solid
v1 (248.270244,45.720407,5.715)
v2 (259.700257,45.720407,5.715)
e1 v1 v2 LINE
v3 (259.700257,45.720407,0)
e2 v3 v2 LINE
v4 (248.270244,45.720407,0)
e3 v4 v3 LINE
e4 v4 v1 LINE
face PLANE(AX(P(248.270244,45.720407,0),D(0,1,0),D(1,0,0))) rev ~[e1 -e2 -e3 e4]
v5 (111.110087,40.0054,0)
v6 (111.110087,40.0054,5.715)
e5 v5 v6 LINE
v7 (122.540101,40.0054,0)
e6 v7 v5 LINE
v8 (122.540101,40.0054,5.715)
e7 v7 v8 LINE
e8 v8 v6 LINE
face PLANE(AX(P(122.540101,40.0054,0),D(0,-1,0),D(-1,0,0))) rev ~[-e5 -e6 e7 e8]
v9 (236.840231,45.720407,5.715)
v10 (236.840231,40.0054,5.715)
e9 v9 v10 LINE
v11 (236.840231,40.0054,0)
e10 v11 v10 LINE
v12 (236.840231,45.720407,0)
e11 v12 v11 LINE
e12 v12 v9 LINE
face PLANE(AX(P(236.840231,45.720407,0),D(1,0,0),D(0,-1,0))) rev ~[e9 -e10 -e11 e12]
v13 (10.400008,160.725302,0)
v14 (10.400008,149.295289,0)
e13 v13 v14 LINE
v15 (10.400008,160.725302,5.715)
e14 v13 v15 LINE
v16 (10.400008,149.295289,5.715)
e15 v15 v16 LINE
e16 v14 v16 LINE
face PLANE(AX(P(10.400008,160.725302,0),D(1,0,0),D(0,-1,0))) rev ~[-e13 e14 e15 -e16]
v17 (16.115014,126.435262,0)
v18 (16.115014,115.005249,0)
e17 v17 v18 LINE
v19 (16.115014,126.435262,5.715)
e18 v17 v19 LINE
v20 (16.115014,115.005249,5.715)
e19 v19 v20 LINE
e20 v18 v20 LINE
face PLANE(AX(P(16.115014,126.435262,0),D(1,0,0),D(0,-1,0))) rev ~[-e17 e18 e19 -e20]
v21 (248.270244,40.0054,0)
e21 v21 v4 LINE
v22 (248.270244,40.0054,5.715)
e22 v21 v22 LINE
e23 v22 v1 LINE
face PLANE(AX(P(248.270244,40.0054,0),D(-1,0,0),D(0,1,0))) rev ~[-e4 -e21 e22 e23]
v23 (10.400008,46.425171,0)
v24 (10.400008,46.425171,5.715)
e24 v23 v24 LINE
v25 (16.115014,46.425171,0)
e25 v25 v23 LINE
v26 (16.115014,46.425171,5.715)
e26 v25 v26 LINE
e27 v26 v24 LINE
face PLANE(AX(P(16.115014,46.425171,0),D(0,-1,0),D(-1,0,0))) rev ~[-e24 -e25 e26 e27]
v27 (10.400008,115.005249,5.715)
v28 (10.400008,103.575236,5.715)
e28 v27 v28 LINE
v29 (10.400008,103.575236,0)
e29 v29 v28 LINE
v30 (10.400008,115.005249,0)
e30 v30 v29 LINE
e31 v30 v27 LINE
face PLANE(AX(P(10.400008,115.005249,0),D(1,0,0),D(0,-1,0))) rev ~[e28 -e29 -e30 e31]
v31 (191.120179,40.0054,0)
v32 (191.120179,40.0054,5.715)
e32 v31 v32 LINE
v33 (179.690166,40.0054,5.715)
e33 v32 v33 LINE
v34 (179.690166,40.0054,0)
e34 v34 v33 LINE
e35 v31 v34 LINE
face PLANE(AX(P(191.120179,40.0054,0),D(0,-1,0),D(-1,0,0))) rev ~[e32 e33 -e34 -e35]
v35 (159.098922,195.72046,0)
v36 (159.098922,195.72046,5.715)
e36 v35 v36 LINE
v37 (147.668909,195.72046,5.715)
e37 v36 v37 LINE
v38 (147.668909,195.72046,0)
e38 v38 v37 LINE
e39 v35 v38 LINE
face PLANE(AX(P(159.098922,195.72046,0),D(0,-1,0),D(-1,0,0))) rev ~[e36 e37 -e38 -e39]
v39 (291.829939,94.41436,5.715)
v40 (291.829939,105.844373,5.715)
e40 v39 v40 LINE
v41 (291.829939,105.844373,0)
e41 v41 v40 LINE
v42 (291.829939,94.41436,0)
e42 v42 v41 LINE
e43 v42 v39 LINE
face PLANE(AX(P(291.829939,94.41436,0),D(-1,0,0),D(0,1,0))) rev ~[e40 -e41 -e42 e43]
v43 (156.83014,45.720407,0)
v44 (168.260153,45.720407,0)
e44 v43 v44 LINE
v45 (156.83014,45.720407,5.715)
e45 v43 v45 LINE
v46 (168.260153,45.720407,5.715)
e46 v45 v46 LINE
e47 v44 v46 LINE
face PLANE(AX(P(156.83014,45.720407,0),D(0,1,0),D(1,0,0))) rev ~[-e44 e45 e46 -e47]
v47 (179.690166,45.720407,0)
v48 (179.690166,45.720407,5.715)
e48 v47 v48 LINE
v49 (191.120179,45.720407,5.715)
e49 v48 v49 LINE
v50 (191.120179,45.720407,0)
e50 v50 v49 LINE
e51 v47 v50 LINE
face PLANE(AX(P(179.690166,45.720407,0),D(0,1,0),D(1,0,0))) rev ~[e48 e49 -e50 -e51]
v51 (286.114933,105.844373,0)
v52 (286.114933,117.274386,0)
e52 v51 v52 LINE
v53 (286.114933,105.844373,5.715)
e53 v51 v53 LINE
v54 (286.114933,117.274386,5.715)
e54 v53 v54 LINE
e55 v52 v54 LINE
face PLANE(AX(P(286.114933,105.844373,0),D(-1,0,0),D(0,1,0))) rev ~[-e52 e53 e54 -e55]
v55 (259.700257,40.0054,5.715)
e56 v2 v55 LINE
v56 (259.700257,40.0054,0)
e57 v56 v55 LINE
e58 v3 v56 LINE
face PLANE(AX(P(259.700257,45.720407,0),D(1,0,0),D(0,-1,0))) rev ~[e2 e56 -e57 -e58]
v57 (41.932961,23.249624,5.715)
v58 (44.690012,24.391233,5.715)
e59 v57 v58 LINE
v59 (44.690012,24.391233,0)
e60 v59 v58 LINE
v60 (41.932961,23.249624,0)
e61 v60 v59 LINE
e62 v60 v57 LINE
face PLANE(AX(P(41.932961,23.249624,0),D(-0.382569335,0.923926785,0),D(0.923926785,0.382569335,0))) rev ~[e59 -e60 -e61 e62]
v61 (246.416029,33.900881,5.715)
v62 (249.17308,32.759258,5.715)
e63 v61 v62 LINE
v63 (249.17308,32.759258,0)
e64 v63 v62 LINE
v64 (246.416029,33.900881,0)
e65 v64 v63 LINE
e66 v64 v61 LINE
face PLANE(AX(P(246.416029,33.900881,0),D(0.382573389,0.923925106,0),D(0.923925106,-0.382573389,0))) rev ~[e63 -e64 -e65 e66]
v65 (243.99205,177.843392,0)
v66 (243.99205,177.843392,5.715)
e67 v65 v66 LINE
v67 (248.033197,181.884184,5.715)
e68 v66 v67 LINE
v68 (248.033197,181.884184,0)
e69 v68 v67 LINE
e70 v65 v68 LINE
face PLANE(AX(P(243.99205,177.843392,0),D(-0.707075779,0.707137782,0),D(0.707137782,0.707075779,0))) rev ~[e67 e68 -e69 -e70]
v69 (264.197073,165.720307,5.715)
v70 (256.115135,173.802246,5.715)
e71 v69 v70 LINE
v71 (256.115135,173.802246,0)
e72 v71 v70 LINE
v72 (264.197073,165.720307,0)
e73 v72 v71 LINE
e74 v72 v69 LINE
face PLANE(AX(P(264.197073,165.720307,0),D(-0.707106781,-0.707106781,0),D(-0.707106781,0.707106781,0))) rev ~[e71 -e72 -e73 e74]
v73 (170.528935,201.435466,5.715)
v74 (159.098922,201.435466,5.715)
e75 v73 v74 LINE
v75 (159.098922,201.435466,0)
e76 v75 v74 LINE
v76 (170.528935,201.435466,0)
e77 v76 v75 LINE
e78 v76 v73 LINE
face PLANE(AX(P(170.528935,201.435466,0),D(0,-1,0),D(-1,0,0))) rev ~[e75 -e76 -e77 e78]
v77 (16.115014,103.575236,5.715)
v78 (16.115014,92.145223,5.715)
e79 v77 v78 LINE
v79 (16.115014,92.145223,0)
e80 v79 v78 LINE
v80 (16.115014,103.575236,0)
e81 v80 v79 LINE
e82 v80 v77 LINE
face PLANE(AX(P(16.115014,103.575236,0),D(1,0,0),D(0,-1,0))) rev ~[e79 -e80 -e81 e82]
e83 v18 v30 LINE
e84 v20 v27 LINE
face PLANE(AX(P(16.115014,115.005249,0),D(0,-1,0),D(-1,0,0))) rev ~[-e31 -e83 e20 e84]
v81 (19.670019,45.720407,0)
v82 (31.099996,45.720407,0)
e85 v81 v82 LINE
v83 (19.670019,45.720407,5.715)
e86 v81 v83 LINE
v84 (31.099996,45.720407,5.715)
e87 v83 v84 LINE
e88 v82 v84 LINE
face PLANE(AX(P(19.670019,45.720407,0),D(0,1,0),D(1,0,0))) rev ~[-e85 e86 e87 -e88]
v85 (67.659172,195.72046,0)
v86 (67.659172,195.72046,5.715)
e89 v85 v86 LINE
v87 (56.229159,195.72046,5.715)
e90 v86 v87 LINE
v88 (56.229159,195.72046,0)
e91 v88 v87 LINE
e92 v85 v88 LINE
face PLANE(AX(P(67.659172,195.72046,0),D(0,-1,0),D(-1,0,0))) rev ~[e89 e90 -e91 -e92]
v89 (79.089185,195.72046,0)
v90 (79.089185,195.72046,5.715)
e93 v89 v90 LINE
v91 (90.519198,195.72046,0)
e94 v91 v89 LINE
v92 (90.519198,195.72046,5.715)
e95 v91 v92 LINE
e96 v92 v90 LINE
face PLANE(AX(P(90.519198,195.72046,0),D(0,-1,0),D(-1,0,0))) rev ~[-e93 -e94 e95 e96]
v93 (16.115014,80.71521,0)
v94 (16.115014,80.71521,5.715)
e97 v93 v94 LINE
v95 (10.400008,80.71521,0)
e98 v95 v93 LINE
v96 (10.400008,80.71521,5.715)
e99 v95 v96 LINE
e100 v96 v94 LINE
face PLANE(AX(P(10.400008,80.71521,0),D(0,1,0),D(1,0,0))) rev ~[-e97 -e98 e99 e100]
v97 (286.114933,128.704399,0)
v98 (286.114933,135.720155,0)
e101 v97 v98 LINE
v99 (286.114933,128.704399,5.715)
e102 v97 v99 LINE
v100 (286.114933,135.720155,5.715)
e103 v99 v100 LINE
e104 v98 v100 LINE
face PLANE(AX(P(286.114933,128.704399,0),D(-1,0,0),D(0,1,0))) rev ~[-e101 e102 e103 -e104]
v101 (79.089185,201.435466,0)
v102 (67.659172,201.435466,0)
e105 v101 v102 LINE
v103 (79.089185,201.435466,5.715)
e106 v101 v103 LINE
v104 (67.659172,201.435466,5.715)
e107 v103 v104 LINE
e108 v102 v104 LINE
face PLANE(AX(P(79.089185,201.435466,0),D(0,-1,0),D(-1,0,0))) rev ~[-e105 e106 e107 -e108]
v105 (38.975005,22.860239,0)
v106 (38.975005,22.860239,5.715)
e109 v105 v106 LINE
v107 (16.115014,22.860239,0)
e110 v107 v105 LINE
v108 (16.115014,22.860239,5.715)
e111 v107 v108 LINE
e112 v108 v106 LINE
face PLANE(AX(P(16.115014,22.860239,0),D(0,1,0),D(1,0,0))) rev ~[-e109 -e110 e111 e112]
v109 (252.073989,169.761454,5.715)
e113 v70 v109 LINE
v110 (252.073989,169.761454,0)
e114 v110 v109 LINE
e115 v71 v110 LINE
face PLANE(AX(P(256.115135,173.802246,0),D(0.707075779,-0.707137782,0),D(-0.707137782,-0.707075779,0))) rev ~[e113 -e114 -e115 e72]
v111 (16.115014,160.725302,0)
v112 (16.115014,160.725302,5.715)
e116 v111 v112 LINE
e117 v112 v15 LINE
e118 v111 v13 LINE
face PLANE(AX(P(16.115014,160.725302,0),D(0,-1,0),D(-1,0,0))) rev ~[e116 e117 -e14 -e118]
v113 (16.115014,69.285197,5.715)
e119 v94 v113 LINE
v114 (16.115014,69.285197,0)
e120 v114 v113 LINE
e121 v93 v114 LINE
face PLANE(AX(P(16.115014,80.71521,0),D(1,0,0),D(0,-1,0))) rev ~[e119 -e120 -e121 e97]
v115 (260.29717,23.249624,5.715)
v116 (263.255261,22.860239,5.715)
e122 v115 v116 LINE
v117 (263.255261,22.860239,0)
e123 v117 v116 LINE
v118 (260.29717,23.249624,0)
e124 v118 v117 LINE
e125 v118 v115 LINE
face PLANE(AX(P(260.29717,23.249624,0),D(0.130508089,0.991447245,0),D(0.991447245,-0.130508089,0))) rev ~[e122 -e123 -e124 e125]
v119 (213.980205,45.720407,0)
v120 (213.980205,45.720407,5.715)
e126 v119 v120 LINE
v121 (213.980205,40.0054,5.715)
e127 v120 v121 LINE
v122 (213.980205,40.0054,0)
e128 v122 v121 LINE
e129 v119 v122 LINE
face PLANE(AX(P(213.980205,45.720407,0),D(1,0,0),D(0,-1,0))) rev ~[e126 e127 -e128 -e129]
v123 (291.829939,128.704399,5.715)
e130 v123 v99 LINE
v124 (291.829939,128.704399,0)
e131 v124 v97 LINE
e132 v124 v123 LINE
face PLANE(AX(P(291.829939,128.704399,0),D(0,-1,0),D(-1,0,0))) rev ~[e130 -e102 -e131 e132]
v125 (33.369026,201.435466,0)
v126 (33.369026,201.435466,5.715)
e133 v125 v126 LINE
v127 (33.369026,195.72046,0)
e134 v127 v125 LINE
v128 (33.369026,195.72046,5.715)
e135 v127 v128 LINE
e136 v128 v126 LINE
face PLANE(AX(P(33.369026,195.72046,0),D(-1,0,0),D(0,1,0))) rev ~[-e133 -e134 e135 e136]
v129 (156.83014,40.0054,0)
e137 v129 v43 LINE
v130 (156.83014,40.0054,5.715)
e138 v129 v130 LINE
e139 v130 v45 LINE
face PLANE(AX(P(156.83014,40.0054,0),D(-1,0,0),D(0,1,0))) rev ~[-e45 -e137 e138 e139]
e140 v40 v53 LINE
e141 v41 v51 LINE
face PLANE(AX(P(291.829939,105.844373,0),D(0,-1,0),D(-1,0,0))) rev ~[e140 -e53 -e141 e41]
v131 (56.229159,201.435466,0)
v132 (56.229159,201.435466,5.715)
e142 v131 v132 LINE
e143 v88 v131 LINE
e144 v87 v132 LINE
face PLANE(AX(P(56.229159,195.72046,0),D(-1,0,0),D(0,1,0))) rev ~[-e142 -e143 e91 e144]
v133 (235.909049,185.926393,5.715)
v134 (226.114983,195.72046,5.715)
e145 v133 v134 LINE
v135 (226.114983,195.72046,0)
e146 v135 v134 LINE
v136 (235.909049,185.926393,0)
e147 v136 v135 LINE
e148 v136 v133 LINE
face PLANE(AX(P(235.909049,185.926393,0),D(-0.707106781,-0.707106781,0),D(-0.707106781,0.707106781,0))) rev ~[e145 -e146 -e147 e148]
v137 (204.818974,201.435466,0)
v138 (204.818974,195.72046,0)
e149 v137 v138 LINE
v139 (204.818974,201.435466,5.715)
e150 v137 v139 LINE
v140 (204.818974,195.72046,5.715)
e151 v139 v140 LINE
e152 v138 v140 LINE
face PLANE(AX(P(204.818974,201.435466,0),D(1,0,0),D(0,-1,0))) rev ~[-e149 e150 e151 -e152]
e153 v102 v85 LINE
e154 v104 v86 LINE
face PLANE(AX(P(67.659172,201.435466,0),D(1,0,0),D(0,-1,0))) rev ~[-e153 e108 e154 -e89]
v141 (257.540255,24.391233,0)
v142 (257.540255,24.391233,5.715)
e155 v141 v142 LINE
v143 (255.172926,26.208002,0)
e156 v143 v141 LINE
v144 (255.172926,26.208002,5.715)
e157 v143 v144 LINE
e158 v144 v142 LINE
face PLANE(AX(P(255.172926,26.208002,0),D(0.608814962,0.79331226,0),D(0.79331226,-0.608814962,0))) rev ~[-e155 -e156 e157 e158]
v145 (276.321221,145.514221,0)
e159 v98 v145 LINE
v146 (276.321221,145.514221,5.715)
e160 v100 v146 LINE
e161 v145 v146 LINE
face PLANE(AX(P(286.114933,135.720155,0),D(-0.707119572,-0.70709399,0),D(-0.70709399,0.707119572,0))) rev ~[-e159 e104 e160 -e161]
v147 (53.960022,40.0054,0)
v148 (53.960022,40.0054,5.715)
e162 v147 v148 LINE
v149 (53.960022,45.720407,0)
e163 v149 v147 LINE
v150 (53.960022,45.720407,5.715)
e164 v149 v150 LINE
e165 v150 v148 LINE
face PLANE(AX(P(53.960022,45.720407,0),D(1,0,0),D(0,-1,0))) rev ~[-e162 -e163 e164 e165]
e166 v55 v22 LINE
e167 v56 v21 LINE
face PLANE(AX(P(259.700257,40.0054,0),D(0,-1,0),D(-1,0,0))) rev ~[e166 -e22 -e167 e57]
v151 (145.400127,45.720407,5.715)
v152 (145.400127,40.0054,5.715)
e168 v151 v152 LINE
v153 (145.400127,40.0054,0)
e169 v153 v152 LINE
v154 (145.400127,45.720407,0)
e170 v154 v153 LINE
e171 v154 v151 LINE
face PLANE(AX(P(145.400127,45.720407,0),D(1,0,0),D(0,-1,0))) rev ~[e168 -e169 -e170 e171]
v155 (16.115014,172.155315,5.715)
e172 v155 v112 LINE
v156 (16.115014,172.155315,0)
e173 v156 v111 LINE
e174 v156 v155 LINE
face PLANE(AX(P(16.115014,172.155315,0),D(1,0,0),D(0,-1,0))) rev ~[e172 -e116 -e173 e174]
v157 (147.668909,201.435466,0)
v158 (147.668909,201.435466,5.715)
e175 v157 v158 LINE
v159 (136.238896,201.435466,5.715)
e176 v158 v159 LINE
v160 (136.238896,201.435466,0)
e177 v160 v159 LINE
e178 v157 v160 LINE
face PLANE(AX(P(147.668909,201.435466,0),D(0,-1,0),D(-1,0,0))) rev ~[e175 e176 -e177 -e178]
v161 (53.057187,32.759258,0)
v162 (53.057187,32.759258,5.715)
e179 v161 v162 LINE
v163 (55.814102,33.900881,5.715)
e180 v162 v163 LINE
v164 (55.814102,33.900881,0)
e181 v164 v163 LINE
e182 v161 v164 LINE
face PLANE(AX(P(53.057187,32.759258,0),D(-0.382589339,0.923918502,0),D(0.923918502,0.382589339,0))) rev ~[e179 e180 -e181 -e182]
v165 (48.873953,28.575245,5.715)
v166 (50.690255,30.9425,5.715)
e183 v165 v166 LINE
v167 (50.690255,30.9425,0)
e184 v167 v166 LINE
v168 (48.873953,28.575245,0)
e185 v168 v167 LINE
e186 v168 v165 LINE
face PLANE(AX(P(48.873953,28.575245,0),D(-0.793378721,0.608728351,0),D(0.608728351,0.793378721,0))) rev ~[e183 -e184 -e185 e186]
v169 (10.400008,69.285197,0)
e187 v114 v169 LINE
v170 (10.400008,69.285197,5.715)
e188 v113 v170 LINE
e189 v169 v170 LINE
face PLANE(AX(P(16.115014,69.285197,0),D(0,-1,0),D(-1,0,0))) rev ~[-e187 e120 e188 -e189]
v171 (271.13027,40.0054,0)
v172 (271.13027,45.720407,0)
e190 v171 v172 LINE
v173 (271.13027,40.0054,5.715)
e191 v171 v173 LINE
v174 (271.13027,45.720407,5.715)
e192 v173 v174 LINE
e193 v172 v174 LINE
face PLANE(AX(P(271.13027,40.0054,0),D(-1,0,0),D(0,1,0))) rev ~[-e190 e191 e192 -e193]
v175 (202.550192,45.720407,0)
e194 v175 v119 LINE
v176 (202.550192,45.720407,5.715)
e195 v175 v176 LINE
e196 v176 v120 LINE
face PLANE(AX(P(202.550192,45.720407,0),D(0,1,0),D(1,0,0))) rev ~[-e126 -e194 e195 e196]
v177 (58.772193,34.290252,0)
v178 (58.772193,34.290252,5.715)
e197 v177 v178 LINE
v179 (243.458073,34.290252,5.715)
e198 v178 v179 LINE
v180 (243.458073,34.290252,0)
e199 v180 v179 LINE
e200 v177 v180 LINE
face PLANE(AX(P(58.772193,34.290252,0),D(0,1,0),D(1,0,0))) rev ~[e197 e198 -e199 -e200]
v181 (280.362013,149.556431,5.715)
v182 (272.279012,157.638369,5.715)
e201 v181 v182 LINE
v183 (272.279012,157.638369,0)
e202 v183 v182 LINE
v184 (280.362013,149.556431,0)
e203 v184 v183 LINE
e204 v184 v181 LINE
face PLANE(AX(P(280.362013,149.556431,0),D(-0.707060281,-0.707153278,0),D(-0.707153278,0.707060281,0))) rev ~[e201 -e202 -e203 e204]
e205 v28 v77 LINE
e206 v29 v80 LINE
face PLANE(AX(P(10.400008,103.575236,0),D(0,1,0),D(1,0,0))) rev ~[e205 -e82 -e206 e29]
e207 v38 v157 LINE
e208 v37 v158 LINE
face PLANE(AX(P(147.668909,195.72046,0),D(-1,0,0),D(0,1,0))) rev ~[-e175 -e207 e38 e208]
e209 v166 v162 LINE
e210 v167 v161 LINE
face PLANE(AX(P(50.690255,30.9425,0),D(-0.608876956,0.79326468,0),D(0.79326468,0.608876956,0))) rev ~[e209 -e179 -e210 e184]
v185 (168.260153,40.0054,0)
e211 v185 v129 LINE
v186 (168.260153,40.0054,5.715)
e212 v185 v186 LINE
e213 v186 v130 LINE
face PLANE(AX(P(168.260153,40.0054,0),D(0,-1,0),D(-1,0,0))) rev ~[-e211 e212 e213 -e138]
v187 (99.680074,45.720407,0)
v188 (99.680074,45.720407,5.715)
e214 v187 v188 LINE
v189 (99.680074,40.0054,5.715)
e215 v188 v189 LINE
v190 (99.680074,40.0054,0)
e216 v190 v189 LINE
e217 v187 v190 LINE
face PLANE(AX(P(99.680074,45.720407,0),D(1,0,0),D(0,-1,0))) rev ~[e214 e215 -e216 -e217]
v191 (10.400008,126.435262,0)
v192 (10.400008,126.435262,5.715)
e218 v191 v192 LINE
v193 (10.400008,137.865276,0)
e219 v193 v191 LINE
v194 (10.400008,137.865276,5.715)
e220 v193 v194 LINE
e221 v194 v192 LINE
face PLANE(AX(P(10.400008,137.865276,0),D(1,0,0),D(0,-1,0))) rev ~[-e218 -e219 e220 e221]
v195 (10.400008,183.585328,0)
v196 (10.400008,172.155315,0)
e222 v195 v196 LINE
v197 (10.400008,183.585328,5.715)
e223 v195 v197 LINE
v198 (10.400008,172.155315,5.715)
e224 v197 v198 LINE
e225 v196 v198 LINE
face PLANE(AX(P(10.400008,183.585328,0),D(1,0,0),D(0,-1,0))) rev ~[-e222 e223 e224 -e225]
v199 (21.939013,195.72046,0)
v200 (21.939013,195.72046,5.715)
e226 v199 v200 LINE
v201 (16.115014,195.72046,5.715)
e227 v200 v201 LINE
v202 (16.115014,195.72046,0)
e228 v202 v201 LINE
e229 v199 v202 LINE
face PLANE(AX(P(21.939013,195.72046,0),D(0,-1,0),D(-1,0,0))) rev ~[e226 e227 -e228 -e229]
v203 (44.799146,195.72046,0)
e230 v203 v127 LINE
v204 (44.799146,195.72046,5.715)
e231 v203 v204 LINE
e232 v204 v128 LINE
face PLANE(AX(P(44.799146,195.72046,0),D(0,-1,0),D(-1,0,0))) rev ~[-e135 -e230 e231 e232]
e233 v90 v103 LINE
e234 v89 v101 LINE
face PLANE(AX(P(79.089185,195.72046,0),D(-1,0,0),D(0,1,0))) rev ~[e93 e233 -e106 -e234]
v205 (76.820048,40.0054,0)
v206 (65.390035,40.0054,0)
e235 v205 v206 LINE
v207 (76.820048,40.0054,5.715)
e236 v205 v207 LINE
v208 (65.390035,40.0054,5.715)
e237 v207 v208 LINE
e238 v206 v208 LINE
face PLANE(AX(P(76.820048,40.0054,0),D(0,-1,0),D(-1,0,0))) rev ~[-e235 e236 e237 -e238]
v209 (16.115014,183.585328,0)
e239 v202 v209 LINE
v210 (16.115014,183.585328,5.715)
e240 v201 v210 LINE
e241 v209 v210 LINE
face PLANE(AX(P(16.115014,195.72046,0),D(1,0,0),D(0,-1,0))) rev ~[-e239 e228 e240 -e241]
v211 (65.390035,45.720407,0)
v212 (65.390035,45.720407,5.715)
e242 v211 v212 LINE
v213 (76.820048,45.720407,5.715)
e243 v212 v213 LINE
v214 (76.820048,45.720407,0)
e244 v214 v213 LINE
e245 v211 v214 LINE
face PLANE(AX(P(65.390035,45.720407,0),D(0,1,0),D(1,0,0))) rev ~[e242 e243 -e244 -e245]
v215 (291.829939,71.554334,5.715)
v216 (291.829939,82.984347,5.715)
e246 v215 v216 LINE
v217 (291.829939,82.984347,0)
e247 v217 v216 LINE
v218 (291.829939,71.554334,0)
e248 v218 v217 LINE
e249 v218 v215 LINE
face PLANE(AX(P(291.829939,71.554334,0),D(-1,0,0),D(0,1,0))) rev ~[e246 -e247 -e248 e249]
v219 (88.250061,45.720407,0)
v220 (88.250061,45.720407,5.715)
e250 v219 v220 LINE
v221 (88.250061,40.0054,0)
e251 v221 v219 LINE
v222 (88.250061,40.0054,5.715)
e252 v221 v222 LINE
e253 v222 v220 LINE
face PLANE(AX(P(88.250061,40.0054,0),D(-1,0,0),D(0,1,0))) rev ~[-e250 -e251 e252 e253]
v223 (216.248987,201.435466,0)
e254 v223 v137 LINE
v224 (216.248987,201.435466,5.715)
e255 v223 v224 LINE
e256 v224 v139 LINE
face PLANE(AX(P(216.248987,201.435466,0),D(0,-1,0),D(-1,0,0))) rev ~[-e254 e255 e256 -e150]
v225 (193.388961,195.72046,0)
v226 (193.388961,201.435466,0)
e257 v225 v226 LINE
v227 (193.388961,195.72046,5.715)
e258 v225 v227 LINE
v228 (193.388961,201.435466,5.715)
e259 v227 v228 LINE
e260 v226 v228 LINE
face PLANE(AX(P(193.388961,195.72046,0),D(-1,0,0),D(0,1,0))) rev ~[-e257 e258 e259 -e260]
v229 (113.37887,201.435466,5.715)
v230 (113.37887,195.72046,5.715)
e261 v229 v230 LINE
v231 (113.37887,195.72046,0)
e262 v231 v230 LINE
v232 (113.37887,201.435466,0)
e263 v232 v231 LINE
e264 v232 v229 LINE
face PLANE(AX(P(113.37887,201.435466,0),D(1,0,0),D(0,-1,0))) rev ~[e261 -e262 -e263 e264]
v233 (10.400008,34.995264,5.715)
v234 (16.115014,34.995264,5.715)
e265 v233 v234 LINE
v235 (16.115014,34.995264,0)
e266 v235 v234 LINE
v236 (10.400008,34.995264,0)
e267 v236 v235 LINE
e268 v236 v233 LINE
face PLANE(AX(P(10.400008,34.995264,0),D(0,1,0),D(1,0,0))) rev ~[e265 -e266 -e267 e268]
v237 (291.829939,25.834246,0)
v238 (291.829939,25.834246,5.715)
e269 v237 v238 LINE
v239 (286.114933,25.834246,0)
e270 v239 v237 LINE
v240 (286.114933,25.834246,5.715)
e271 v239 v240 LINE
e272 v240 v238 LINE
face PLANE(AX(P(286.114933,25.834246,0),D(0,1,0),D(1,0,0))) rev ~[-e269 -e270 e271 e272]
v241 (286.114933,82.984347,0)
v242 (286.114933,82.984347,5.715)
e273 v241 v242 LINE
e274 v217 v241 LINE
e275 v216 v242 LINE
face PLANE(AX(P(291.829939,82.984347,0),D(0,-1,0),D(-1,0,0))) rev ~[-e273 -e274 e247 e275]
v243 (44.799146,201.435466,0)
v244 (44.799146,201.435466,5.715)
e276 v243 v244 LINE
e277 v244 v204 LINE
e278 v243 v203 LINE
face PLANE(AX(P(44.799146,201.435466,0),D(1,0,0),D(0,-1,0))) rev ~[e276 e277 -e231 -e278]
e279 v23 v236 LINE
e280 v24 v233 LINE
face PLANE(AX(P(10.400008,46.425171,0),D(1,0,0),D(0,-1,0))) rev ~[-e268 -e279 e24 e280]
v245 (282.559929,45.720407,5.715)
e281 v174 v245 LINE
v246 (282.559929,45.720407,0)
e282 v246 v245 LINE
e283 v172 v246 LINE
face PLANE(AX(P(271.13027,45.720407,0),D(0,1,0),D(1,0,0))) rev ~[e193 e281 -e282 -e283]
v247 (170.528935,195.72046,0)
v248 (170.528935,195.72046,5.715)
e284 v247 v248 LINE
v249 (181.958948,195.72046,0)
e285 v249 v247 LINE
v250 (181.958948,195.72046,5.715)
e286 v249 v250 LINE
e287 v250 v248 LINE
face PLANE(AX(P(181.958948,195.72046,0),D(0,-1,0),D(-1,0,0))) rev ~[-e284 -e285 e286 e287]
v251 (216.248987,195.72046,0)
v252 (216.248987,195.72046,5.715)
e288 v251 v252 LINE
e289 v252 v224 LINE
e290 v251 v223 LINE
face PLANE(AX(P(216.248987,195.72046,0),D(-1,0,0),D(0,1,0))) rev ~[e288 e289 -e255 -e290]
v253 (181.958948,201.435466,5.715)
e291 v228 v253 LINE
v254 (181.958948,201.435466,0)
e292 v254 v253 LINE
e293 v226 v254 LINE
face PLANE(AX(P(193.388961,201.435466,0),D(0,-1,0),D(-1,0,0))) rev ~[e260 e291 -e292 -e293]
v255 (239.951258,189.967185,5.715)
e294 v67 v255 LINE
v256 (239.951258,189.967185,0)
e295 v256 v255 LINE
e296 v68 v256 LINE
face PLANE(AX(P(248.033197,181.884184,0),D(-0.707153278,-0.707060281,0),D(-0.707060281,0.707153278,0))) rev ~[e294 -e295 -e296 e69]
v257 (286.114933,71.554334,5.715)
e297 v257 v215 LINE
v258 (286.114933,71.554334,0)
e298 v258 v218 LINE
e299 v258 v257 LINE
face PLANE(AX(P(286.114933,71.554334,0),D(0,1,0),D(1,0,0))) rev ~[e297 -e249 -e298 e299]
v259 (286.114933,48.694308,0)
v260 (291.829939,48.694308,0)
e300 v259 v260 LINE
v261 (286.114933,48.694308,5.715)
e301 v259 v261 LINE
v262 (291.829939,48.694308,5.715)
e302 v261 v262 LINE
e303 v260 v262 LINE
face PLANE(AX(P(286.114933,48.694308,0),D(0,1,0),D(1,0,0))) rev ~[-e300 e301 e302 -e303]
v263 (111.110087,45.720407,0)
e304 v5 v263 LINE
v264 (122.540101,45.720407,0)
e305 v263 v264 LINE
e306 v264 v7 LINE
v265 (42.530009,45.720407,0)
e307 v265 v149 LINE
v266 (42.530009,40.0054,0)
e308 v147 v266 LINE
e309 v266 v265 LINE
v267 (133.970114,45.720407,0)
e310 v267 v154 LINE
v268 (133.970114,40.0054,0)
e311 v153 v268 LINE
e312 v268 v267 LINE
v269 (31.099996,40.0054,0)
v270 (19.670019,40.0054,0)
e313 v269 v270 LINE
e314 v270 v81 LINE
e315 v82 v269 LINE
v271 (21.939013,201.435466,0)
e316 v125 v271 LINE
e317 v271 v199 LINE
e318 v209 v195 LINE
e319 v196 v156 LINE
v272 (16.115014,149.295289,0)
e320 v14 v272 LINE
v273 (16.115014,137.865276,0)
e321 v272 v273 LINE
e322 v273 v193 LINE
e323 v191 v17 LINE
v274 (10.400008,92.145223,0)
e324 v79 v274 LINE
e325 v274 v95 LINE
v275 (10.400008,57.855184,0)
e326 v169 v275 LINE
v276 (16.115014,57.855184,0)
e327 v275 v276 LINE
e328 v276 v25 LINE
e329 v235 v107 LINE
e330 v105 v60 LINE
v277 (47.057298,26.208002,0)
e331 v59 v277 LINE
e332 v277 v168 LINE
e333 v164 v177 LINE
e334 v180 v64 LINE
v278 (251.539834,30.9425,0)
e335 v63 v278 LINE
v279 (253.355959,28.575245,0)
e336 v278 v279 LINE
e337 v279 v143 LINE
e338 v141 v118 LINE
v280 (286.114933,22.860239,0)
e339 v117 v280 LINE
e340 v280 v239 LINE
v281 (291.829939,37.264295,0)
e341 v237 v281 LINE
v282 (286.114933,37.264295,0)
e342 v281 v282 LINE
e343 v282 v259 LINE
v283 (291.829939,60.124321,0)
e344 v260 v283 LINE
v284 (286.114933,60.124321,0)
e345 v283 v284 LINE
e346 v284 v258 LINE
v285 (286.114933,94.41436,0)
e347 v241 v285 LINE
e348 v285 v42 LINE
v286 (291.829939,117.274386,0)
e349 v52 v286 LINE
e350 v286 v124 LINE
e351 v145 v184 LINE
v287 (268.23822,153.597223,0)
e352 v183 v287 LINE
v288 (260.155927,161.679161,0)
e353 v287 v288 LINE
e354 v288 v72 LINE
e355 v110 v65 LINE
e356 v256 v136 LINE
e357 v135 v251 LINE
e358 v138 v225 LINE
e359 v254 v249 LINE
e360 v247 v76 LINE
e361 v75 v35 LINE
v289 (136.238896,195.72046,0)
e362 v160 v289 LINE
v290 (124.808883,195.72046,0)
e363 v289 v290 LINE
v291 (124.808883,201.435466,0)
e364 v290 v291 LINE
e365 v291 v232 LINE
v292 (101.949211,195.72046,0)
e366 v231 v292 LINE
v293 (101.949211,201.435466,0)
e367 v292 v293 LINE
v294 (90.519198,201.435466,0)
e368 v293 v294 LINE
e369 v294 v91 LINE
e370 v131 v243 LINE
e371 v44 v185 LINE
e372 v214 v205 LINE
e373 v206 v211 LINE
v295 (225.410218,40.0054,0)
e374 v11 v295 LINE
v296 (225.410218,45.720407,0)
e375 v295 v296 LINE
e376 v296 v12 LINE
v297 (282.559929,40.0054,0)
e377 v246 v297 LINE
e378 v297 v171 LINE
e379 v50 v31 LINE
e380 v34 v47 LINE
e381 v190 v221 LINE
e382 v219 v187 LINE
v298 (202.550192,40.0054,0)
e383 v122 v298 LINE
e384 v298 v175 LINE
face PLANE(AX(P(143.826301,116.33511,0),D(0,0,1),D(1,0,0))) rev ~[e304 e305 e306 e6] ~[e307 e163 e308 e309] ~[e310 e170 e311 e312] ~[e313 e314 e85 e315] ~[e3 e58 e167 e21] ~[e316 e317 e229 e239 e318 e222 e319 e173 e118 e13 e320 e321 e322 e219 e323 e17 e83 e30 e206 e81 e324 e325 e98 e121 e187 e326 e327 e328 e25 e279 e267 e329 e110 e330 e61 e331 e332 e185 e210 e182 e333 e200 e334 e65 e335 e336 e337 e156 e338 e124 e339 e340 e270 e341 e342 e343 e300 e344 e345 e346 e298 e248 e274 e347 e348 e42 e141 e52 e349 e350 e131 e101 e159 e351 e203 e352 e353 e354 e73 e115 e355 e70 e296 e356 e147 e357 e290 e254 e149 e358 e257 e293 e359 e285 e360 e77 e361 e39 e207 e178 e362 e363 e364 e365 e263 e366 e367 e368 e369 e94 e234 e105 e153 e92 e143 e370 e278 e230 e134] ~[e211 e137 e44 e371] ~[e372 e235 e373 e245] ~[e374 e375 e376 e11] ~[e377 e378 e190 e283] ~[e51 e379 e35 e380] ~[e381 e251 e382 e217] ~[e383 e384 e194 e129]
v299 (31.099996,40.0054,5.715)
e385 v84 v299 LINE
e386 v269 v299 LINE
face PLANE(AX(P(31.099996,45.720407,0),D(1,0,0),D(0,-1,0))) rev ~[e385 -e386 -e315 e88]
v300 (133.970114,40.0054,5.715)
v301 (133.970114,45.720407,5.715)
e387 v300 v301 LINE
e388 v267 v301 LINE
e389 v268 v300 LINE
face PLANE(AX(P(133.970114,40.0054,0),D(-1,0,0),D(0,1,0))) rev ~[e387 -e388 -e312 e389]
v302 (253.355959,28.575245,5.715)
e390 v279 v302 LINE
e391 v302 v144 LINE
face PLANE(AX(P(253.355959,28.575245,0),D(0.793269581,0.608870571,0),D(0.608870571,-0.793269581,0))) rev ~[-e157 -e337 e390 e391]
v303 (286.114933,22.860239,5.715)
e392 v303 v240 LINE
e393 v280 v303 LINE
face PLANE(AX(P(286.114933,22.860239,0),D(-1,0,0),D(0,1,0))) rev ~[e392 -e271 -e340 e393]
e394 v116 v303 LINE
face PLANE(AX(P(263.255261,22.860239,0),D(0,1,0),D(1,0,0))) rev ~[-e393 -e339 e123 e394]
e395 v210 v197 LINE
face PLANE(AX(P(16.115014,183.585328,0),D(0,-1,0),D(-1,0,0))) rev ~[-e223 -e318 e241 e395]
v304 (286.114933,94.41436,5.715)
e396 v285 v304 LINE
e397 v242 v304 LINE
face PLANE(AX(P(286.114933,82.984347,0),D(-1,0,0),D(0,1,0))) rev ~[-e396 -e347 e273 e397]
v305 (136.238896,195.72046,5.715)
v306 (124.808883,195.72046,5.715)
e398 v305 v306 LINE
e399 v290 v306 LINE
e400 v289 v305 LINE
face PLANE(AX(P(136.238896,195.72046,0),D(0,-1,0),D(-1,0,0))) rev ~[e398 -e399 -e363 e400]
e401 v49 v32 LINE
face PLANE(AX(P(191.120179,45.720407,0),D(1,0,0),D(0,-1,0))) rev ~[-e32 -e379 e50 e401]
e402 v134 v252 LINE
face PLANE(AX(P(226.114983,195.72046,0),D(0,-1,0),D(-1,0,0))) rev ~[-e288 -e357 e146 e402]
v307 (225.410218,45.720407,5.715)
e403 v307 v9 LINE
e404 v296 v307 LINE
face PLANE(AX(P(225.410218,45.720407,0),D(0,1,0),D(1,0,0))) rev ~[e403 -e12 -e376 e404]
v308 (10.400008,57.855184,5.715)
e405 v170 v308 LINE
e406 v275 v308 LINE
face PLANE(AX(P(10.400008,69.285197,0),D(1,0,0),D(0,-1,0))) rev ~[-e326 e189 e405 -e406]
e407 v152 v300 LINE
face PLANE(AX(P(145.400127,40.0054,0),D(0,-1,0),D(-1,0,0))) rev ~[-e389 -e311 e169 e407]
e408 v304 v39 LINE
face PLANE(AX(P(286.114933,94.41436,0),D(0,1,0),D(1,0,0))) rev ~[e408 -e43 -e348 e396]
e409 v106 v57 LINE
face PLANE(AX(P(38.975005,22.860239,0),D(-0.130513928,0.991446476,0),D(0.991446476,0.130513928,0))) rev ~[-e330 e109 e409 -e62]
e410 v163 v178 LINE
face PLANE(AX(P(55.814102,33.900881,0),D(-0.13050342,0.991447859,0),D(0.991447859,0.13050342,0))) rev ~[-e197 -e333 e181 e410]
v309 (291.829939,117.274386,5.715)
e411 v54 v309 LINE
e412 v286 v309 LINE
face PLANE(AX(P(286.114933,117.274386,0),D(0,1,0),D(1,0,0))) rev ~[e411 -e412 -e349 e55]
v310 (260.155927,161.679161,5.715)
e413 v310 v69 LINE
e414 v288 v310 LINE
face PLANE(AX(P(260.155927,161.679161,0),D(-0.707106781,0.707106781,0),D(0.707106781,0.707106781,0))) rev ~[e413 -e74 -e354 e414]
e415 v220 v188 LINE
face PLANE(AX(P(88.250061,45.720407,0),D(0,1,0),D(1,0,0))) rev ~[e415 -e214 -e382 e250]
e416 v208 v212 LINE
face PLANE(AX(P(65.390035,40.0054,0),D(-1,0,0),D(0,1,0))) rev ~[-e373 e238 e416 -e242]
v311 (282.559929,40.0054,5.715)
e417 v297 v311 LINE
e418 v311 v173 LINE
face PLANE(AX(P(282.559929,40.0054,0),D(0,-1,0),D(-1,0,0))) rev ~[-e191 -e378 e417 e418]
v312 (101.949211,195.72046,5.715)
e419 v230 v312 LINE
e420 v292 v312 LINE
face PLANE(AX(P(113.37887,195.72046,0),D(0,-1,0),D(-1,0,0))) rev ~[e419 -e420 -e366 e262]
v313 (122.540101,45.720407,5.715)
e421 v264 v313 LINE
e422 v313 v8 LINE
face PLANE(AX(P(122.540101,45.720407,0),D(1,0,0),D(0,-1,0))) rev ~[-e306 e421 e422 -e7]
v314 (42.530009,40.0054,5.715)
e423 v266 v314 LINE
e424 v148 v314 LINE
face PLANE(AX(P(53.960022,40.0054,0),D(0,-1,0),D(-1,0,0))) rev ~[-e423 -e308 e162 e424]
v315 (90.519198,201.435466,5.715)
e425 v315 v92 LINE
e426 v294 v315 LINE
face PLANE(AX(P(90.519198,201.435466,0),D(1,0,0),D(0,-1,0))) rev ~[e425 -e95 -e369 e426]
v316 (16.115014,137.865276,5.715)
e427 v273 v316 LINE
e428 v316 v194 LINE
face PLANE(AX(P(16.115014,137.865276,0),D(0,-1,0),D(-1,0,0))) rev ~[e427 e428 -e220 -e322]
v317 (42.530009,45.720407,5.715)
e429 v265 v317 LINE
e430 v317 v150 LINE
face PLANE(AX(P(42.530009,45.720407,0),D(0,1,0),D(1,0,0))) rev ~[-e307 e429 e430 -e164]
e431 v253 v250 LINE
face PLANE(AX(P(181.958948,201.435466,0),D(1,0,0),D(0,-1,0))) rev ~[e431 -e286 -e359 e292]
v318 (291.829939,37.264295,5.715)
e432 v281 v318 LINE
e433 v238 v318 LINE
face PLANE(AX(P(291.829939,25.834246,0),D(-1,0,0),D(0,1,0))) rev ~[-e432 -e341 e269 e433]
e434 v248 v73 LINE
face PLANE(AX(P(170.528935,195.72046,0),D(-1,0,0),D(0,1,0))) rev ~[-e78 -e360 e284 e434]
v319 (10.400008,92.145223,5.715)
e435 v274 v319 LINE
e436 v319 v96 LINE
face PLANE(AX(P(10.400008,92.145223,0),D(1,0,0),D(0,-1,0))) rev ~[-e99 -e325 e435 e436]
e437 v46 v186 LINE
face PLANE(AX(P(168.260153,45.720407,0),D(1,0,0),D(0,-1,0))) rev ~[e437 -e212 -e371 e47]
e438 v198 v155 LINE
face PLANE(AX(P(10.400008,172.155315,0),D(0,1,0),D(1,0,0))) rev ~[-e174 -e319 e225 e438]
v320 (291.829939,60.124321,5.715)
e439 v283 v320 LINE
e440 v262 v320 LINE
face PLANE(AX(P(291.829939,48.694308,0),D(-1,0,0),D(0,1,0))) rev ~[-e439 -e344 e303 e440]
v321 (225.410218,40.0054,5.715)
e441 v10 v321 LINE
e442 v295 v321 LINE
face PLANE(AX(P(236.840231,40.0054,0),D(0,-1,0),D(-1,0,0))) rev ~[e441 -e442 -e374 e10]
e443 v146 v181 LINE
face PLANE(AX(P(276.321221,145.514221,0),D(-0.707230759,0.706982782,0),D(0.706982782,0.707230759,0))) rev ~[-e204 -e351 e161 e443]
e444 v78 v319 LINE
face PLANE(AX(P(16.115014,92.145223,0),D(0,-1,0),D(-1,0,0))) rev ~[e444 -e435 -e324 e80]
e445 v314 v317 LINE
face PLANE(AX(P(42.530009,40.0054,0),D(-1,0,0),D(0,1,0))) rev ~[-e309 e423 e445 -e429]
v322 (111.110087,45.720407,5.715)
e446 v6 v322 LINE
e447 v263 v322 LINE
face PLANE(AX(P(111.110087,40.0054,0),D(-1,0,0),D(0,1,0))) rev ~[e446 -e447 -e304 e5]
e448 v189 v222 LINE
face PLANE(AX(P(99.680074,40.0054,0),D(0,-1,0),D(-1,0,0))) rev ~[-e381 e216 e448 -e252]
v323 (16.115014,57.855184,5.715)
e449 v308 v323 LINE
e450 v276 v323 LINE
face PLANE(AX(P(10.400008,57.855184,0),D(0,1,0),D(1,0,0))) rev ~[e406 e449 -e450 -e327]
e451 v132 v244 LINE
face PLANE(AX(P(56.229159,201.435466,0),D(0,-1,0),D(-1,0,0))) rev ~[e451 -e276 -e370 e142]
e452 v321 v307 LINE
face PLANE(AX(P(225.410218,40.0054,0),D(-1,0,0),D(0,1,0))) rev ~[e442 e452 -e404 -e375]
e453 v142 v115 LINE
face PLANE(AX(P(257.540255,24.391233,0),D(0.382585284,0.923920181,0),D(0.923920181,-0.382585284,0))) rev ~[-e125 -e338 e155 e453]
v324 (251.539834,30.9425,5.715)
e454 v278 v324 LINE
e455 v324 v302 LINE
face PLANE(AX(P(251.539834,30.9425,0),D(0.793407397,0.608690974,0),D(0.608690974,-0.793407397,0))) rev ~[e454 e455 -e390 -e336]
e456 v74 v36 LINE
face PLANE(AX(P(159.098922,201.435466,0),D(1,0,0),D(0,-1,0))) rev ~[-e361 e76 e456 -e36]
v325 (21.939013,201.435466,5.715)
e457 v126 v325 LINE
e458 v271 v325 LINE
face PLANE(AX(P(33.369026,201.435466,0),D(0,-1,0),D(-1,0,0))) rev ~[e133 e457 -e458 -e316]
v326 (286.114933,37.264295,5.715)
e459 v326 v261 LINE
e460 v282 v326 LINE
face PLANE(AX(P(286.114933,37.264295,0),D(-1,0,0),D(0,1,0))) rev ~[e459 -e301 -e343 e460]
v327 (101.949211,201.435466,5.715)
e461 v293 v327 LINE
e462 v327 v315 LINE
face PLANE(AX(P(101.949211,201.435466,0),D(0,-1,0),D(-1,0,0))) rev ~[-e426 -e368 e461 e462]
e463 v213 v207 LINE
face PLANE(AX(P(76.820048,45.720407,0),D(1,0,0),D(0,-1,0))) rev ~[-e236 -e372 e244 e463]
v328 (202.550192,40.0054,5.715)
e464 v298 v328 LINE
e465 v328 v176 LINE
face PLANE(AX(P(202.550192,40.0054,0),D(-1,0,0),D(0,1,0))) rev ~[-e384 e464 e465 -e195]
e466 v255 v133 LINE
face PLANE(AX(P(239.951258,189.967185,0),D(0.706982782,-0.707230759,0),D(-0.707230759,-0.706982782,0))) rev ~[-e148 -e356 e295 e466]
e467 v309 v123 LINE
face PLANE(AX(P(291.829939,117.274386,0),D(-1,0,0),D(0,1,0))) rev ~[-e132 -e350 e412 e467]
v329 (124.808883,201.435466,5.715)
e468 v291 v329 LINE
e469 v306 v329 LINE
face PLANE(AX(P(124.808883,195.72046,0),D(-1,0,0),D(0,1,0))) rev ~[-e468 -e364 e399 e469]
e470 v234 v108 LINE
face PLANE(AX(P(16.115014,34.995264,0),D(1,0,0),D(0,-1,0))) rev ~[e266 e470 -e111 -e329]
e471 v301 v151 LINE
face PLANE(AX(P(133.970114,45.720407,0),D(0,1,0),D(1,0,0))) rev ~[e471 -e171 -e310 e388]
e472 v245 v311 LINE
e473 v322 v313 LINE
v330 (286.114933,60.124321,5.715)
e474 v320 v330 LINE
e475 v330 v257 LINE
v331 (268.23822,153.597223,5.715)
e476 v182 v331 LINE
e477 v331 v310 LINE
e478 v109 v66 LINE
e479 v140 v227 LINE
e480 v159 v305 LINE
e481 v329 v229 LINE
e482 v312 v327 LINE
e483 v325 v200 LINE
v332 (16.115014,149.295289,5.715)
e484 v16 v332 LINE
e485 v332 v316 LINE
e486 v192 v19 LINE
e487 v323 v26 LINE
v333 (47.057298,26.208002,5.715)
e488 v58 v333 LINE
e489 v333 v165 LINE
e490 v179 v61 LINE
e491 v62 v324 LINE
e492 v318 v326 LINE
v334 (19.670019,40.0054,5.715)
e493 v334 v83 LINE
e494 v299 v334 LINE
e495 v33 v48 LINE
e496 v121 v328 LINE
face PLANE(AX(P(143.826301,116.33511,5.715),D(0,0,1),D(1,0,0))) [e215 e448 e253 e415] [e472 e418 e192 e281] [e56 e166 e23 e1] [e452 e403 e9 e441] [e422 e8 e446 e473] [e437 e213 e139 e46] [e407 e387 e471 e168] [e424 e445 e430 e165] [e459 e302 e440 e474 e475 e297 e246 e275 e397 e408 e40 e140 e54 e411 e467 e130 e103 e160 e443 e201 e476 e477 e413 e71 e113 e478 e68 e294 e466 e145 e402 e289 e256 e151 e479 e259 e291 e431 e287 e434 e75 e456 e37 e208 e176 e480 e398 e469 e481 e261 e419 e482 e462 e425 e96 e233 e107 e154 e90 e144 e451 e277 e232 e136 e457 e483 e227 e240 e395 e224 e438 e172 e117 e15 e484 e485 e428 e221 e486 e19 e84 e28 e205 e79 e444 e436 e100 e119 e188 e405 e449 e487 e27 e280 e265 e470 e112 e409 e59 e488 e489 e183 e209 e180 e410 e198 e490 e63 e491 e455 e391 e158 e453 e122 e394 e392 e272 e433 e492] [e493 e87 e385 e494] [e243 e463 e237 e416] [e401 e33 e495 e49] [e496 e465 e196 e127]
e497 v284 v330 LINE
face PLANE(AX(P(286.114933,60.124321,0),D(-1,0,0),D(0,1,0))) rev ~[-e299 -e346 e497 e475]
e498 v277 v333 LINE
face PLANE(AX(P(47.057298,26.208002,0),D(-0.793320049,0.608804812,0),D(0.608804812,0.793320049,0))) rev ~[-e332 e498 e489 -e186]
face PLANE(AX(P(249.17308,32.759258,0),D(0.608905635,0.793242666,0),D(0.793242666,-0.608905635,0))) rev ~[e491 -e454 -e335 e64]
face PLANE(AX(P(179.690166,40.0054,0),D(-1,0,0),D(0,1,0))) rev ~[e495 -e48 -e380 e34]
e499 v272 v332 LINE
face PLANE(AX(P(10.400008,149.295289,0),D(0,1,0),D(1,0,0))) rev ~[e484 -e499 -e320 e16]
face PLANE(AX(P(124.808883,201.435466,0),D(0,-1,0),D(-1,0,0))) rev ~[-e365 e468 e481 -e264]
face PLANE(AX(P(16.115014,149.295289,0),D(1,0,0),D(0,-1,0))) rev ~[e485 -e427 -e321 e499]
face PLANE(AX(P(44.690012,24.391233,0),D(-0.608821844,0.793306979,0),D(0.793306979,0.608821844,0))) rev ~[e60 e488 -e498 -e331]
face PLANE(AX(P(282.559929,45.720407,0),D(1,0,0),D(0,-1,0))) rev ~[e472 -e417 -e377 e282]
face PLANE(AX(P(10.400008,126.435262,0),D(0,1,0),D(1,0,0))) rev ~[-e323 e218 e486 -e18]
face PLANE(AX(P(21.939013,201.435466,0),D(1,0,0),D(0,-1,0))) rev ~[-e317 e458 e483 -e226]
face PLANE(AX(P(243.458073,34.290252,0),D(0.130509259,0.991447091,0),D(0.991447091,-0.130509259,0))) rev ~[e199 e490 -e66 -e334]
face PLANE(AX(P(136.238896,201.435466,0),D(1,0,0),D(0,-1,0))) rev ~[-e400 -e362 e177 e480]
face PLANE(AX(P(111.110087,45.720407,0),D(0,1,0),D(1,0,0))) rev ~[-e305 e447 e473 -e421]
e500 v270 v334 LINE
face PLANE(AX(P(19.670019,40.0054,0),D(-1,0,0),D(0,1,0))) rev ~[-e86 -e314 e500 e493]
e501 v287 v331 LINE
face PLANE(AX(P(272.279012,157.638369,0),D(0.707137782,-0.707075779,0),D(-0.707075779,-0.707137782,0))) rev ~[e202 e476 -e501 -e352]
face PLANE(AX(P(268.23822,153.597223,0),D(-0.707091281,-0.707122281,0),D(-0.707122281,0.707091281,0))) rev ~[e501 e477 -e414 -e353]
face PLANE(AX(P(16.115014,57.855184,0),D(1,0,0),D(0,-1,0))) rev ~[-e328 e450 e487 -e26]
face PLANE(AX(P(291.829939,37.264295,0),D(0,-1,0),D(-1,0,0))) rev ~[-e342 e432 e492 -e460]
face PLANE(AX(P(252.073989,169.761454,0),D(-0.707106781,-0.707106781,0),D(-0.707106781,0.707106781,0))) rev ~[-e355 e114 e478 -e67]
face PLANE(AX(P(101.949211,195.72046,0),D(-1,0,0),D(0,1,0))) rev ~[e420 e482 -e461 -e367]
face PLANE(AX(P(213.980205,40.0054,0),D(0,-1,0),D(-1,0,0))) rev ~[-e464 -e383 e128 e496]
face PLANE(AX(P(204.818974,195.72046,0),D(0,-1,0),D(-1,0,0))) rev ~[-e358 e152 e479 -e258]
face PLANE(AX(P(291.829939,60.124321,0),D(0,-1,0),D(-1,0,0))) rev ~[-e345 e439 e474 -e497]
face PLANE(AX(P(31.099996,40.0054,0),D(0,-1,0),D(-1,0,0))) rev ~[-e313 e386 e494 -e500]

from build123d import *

# Parameters (mm, degrees)
BOSS_EXTRUDE1_DEPTH = 5.715


with BuildPart() as part:
    # Model → Boss-Extrude1 (new body)
    with BuildSketch(Plane.XY):
        Polygon((16.115014462, 22.860238699), (38.975005129, 22.860238699), (41.932961262, 23.249623789), (44.690011654, 24.391232573), (47.057297821, 26.208001576), (48.873953439, 28.575245224), (50.690254725, 30.942499501), (53.057186561, 32.759257875), (55.814102307, 33.900880832), (58.772193086, 34.290251749), (243.45807324, 34.290251749), (246.416029373, 33.900880832), (249.173079765, 32.759257875), (251.539834435, 30.942499501), (253.355958556, 28.575245224), (255.172925985, 26.208001576), (257.540254672, 24.391232573), (260.297170418, 23.249623789), (263.255261197, 22.860238699), (286.114932966, 22.860238699), (286.114932966, 25.834246031), (291.829939491, 25.834246031), (291.829939491, 37.264294514), (286.114932966, 37.264294514), (286.114932966, 48.694307564), (291.829939491, 48.694307564), (291.829939491, 60.124320614), (286.114932966, 60.124320614), (286.114932966, 71.554333664), (291.829939491, 71.554333664), (291.829939491, 82.984346714), (286.114932966, 82.984346714), (286.114932966, 94.414359764), (291.829939491, 94.414359764), (291.829939491, 105.844372814), (286.114932966, 105.844372814), (286.114932966, 117.274385864), (291.829939491, 117.274385864), (291.829939491, 128.704398914), (286.114932966, 128.704398914), (286.114932966, 131.679362941), (286.114932966, 135.720154956), (276.321220997, 145.514221256), (280.362013012, 149.556430596), (272.279011657, 157.638368957), (268.238219642, 153.597222611), (260.15592695, 161.679160972), (264.197073296, 165.720307318), (256.115134935, 173.80224568), (252.073988588, 169.761453665), (243.992050227, 177.843392026), (248.033196573, 181.884184041), (239.951258212, 189.967185396), (235.909048873, 185.926393381), (226.114982572, 195.720459681), (222.074190557, 195.720459681), (216.248987056, 195.720459681), (216.248987056, 201.435466206), (204.818974006, 201.435466206), (204.818974006, 195.720459681), (193.388960956, 195.720459681), (193.388960956, 201.435466206), (181.958947906, 201.435466206), (181.958947906, 195.720459681), (170.528934856, 195.720459681), (170.528934856, 201.435466206), (159.098921806, 201.435466206), (159.098921806, 195.720459681), (147.668908756, 195.720459681), (147.668908756, 201.435466206), (136.238895706, 201.435466206), (136.238895706, 195.720459681), (124.808882656, 195.720459681), (124.808882656, 201.435466206), (113.378869606, 201.435466206), (113.378869606, 195.720459681), (101.949210887, 195.720459681), (101.949210887, 201.435466206), (90.519197837, 201.435466206), (90.519197837, 195.720459681), (79.089184787, 195.720459681), (79.089184787, 201.435466206), (67.659171737, 201.435466206), (67.659171737, 195.720459681), (56.229158687, 195.720459681), (56.229158687, 201.435466206), (44.799145637, 201.435466206), (44.799145637, 195.720459681), (33.369026287, 195.720459681), (33.369026287, 201.435466206), (21.939013237, 201.435466206), (21.939013237, 195.720459681), (16.115014462, 195.720459681), (16.115014462, 183.585327716), (10.400007937, 183.585327716), (10.400007937, 172.155314666), (16.115014462, 172.155314666), (16.115014462, 160.725301616), (10.400007937, 160.725301616), (10.400007937, 149.295288565), (16.115014462, 149.295288565), (16.115014462, 137.865275515), (10.400007937, 137.865275515), (10.400007937, 126.435262465), (16.115014462, 126.435262465), (16.115014462, 115.005249415), (10.400007937, 115.005249415), (10.400007937, 103.575236365), (16.115014462, 103.575236365), (16.115014462, 92.145223315), (10.400007937, 92.145223315), (10.400007937, 80.715210265), (16.115014462, 80.715210265), (16.115014462, 69.285197215), (10.400007937, 69.285197215), (10.400007937, 57.855184165), (16.115014462, 57.855184165), (16.115014462, 46.425171115), (10.400007937, 46.425171115), (10.400007937, 34.995264365), (16.115014462, 34.995264365), align=None)
        Polygon((25.385025046, 40.005400006), (19.670018521, 40.005400006), (19.670018521, 45.720406531), (31.099996138, 45.720406531), (31.099996138, 40.005400006), align=None, mode=Mode.SUBTRACT)
        Polygon((48.245015713, 40.005400006), (42.530009188, 40.005400006), (42.530009188, 45.720406531), (53.960022238, 45.720406531), (53.960022238, 40.005400006), align=None, mode=Mode.SUBTRACT)
        Polygon((71.105041813, 40.005400006), (65.390035288, 40.005400006), (65.390035288, 45.720406531), (76.820048338, 45.720406531), (76.820048338, 40.005400006), align=None, mode=Mode.SUBTRACT)
        Polygon((93.965067913, 40.005400006), (88.250061388, 40.005400006), (88.250061388, 45.720406531), (99.680074438, 45.720406531), (99.680074438, 40.005400006), align=None, mode=Mode.SUBTRACT)
        Polygon((116.825094013, 40.005400006), (111.110087488, 40.005400006), (111.110087488, 45.720406531), (122.540100538, 45.720406531), (122.540100538, 40.005400006), align=None, mode=Mode.SUBTRACT)
        Polygon((139.685120113, 40.005400006), (133.970113588, 40.005400006), (133.970113588, 45.720406531), (145.400126638, 45.720406531), (145.400126638, 40.005400006), align=None, mode=Mode.SUBTRACT)
        Polygon((162.545146213, 40.005400006), (156.830139688, 40.005400006), (156.830139688, 45.720406531), (168.260152738, 45.720406531), (168.260152738, 40.005400006), align=None, mode=Mode.SUBTRACT)
        Polygon((185.405172313, 40.005400006), (179.690165788, 40.005400006), (179.690165788, 45.720406531), (191.120178838, 45.720406531), (191.120178838, 40.005400006), align=None, mode=Mode.SUBTRACT)
        Polygon((208.265198413, 40.005400006), (202.550191888, 40.005400006), (202.550191888, 45.720406531), (213.980204938, 45.720406531), (213.980204938, 40.005400006), align=None, mode=Mode.SUBTRACT)
        Polygon((231.125224513, 40.005400006), (225.410217988, 40.005400006), (225.410217988, 45.720406531), (236.840231038, 45.720406531), (236.840231038, 40.005400006), align=None, mode=Mode.SUBTRACT)
        Polygon((253.985250613, 40.005400006), (248.270244088, 40.005400006), (248.270244088, 45.720406531), (259.700257138, 45.720406531), (259.700257138, 40.005400006), align=None, mode=Mode.SUBTRACT)
        Polygon((276.844922382, 40.005400006), (271.130270188, 40.005400006), (271.130270188, 45.720406531), (282.559928907, 45.720406531), (282.559928907, 40.005400006), align=None, mode=Mode.SUBTRACT)
    extrude(amount=BOSS_EXTRUDE1_DEPTH)


solid = part.part
